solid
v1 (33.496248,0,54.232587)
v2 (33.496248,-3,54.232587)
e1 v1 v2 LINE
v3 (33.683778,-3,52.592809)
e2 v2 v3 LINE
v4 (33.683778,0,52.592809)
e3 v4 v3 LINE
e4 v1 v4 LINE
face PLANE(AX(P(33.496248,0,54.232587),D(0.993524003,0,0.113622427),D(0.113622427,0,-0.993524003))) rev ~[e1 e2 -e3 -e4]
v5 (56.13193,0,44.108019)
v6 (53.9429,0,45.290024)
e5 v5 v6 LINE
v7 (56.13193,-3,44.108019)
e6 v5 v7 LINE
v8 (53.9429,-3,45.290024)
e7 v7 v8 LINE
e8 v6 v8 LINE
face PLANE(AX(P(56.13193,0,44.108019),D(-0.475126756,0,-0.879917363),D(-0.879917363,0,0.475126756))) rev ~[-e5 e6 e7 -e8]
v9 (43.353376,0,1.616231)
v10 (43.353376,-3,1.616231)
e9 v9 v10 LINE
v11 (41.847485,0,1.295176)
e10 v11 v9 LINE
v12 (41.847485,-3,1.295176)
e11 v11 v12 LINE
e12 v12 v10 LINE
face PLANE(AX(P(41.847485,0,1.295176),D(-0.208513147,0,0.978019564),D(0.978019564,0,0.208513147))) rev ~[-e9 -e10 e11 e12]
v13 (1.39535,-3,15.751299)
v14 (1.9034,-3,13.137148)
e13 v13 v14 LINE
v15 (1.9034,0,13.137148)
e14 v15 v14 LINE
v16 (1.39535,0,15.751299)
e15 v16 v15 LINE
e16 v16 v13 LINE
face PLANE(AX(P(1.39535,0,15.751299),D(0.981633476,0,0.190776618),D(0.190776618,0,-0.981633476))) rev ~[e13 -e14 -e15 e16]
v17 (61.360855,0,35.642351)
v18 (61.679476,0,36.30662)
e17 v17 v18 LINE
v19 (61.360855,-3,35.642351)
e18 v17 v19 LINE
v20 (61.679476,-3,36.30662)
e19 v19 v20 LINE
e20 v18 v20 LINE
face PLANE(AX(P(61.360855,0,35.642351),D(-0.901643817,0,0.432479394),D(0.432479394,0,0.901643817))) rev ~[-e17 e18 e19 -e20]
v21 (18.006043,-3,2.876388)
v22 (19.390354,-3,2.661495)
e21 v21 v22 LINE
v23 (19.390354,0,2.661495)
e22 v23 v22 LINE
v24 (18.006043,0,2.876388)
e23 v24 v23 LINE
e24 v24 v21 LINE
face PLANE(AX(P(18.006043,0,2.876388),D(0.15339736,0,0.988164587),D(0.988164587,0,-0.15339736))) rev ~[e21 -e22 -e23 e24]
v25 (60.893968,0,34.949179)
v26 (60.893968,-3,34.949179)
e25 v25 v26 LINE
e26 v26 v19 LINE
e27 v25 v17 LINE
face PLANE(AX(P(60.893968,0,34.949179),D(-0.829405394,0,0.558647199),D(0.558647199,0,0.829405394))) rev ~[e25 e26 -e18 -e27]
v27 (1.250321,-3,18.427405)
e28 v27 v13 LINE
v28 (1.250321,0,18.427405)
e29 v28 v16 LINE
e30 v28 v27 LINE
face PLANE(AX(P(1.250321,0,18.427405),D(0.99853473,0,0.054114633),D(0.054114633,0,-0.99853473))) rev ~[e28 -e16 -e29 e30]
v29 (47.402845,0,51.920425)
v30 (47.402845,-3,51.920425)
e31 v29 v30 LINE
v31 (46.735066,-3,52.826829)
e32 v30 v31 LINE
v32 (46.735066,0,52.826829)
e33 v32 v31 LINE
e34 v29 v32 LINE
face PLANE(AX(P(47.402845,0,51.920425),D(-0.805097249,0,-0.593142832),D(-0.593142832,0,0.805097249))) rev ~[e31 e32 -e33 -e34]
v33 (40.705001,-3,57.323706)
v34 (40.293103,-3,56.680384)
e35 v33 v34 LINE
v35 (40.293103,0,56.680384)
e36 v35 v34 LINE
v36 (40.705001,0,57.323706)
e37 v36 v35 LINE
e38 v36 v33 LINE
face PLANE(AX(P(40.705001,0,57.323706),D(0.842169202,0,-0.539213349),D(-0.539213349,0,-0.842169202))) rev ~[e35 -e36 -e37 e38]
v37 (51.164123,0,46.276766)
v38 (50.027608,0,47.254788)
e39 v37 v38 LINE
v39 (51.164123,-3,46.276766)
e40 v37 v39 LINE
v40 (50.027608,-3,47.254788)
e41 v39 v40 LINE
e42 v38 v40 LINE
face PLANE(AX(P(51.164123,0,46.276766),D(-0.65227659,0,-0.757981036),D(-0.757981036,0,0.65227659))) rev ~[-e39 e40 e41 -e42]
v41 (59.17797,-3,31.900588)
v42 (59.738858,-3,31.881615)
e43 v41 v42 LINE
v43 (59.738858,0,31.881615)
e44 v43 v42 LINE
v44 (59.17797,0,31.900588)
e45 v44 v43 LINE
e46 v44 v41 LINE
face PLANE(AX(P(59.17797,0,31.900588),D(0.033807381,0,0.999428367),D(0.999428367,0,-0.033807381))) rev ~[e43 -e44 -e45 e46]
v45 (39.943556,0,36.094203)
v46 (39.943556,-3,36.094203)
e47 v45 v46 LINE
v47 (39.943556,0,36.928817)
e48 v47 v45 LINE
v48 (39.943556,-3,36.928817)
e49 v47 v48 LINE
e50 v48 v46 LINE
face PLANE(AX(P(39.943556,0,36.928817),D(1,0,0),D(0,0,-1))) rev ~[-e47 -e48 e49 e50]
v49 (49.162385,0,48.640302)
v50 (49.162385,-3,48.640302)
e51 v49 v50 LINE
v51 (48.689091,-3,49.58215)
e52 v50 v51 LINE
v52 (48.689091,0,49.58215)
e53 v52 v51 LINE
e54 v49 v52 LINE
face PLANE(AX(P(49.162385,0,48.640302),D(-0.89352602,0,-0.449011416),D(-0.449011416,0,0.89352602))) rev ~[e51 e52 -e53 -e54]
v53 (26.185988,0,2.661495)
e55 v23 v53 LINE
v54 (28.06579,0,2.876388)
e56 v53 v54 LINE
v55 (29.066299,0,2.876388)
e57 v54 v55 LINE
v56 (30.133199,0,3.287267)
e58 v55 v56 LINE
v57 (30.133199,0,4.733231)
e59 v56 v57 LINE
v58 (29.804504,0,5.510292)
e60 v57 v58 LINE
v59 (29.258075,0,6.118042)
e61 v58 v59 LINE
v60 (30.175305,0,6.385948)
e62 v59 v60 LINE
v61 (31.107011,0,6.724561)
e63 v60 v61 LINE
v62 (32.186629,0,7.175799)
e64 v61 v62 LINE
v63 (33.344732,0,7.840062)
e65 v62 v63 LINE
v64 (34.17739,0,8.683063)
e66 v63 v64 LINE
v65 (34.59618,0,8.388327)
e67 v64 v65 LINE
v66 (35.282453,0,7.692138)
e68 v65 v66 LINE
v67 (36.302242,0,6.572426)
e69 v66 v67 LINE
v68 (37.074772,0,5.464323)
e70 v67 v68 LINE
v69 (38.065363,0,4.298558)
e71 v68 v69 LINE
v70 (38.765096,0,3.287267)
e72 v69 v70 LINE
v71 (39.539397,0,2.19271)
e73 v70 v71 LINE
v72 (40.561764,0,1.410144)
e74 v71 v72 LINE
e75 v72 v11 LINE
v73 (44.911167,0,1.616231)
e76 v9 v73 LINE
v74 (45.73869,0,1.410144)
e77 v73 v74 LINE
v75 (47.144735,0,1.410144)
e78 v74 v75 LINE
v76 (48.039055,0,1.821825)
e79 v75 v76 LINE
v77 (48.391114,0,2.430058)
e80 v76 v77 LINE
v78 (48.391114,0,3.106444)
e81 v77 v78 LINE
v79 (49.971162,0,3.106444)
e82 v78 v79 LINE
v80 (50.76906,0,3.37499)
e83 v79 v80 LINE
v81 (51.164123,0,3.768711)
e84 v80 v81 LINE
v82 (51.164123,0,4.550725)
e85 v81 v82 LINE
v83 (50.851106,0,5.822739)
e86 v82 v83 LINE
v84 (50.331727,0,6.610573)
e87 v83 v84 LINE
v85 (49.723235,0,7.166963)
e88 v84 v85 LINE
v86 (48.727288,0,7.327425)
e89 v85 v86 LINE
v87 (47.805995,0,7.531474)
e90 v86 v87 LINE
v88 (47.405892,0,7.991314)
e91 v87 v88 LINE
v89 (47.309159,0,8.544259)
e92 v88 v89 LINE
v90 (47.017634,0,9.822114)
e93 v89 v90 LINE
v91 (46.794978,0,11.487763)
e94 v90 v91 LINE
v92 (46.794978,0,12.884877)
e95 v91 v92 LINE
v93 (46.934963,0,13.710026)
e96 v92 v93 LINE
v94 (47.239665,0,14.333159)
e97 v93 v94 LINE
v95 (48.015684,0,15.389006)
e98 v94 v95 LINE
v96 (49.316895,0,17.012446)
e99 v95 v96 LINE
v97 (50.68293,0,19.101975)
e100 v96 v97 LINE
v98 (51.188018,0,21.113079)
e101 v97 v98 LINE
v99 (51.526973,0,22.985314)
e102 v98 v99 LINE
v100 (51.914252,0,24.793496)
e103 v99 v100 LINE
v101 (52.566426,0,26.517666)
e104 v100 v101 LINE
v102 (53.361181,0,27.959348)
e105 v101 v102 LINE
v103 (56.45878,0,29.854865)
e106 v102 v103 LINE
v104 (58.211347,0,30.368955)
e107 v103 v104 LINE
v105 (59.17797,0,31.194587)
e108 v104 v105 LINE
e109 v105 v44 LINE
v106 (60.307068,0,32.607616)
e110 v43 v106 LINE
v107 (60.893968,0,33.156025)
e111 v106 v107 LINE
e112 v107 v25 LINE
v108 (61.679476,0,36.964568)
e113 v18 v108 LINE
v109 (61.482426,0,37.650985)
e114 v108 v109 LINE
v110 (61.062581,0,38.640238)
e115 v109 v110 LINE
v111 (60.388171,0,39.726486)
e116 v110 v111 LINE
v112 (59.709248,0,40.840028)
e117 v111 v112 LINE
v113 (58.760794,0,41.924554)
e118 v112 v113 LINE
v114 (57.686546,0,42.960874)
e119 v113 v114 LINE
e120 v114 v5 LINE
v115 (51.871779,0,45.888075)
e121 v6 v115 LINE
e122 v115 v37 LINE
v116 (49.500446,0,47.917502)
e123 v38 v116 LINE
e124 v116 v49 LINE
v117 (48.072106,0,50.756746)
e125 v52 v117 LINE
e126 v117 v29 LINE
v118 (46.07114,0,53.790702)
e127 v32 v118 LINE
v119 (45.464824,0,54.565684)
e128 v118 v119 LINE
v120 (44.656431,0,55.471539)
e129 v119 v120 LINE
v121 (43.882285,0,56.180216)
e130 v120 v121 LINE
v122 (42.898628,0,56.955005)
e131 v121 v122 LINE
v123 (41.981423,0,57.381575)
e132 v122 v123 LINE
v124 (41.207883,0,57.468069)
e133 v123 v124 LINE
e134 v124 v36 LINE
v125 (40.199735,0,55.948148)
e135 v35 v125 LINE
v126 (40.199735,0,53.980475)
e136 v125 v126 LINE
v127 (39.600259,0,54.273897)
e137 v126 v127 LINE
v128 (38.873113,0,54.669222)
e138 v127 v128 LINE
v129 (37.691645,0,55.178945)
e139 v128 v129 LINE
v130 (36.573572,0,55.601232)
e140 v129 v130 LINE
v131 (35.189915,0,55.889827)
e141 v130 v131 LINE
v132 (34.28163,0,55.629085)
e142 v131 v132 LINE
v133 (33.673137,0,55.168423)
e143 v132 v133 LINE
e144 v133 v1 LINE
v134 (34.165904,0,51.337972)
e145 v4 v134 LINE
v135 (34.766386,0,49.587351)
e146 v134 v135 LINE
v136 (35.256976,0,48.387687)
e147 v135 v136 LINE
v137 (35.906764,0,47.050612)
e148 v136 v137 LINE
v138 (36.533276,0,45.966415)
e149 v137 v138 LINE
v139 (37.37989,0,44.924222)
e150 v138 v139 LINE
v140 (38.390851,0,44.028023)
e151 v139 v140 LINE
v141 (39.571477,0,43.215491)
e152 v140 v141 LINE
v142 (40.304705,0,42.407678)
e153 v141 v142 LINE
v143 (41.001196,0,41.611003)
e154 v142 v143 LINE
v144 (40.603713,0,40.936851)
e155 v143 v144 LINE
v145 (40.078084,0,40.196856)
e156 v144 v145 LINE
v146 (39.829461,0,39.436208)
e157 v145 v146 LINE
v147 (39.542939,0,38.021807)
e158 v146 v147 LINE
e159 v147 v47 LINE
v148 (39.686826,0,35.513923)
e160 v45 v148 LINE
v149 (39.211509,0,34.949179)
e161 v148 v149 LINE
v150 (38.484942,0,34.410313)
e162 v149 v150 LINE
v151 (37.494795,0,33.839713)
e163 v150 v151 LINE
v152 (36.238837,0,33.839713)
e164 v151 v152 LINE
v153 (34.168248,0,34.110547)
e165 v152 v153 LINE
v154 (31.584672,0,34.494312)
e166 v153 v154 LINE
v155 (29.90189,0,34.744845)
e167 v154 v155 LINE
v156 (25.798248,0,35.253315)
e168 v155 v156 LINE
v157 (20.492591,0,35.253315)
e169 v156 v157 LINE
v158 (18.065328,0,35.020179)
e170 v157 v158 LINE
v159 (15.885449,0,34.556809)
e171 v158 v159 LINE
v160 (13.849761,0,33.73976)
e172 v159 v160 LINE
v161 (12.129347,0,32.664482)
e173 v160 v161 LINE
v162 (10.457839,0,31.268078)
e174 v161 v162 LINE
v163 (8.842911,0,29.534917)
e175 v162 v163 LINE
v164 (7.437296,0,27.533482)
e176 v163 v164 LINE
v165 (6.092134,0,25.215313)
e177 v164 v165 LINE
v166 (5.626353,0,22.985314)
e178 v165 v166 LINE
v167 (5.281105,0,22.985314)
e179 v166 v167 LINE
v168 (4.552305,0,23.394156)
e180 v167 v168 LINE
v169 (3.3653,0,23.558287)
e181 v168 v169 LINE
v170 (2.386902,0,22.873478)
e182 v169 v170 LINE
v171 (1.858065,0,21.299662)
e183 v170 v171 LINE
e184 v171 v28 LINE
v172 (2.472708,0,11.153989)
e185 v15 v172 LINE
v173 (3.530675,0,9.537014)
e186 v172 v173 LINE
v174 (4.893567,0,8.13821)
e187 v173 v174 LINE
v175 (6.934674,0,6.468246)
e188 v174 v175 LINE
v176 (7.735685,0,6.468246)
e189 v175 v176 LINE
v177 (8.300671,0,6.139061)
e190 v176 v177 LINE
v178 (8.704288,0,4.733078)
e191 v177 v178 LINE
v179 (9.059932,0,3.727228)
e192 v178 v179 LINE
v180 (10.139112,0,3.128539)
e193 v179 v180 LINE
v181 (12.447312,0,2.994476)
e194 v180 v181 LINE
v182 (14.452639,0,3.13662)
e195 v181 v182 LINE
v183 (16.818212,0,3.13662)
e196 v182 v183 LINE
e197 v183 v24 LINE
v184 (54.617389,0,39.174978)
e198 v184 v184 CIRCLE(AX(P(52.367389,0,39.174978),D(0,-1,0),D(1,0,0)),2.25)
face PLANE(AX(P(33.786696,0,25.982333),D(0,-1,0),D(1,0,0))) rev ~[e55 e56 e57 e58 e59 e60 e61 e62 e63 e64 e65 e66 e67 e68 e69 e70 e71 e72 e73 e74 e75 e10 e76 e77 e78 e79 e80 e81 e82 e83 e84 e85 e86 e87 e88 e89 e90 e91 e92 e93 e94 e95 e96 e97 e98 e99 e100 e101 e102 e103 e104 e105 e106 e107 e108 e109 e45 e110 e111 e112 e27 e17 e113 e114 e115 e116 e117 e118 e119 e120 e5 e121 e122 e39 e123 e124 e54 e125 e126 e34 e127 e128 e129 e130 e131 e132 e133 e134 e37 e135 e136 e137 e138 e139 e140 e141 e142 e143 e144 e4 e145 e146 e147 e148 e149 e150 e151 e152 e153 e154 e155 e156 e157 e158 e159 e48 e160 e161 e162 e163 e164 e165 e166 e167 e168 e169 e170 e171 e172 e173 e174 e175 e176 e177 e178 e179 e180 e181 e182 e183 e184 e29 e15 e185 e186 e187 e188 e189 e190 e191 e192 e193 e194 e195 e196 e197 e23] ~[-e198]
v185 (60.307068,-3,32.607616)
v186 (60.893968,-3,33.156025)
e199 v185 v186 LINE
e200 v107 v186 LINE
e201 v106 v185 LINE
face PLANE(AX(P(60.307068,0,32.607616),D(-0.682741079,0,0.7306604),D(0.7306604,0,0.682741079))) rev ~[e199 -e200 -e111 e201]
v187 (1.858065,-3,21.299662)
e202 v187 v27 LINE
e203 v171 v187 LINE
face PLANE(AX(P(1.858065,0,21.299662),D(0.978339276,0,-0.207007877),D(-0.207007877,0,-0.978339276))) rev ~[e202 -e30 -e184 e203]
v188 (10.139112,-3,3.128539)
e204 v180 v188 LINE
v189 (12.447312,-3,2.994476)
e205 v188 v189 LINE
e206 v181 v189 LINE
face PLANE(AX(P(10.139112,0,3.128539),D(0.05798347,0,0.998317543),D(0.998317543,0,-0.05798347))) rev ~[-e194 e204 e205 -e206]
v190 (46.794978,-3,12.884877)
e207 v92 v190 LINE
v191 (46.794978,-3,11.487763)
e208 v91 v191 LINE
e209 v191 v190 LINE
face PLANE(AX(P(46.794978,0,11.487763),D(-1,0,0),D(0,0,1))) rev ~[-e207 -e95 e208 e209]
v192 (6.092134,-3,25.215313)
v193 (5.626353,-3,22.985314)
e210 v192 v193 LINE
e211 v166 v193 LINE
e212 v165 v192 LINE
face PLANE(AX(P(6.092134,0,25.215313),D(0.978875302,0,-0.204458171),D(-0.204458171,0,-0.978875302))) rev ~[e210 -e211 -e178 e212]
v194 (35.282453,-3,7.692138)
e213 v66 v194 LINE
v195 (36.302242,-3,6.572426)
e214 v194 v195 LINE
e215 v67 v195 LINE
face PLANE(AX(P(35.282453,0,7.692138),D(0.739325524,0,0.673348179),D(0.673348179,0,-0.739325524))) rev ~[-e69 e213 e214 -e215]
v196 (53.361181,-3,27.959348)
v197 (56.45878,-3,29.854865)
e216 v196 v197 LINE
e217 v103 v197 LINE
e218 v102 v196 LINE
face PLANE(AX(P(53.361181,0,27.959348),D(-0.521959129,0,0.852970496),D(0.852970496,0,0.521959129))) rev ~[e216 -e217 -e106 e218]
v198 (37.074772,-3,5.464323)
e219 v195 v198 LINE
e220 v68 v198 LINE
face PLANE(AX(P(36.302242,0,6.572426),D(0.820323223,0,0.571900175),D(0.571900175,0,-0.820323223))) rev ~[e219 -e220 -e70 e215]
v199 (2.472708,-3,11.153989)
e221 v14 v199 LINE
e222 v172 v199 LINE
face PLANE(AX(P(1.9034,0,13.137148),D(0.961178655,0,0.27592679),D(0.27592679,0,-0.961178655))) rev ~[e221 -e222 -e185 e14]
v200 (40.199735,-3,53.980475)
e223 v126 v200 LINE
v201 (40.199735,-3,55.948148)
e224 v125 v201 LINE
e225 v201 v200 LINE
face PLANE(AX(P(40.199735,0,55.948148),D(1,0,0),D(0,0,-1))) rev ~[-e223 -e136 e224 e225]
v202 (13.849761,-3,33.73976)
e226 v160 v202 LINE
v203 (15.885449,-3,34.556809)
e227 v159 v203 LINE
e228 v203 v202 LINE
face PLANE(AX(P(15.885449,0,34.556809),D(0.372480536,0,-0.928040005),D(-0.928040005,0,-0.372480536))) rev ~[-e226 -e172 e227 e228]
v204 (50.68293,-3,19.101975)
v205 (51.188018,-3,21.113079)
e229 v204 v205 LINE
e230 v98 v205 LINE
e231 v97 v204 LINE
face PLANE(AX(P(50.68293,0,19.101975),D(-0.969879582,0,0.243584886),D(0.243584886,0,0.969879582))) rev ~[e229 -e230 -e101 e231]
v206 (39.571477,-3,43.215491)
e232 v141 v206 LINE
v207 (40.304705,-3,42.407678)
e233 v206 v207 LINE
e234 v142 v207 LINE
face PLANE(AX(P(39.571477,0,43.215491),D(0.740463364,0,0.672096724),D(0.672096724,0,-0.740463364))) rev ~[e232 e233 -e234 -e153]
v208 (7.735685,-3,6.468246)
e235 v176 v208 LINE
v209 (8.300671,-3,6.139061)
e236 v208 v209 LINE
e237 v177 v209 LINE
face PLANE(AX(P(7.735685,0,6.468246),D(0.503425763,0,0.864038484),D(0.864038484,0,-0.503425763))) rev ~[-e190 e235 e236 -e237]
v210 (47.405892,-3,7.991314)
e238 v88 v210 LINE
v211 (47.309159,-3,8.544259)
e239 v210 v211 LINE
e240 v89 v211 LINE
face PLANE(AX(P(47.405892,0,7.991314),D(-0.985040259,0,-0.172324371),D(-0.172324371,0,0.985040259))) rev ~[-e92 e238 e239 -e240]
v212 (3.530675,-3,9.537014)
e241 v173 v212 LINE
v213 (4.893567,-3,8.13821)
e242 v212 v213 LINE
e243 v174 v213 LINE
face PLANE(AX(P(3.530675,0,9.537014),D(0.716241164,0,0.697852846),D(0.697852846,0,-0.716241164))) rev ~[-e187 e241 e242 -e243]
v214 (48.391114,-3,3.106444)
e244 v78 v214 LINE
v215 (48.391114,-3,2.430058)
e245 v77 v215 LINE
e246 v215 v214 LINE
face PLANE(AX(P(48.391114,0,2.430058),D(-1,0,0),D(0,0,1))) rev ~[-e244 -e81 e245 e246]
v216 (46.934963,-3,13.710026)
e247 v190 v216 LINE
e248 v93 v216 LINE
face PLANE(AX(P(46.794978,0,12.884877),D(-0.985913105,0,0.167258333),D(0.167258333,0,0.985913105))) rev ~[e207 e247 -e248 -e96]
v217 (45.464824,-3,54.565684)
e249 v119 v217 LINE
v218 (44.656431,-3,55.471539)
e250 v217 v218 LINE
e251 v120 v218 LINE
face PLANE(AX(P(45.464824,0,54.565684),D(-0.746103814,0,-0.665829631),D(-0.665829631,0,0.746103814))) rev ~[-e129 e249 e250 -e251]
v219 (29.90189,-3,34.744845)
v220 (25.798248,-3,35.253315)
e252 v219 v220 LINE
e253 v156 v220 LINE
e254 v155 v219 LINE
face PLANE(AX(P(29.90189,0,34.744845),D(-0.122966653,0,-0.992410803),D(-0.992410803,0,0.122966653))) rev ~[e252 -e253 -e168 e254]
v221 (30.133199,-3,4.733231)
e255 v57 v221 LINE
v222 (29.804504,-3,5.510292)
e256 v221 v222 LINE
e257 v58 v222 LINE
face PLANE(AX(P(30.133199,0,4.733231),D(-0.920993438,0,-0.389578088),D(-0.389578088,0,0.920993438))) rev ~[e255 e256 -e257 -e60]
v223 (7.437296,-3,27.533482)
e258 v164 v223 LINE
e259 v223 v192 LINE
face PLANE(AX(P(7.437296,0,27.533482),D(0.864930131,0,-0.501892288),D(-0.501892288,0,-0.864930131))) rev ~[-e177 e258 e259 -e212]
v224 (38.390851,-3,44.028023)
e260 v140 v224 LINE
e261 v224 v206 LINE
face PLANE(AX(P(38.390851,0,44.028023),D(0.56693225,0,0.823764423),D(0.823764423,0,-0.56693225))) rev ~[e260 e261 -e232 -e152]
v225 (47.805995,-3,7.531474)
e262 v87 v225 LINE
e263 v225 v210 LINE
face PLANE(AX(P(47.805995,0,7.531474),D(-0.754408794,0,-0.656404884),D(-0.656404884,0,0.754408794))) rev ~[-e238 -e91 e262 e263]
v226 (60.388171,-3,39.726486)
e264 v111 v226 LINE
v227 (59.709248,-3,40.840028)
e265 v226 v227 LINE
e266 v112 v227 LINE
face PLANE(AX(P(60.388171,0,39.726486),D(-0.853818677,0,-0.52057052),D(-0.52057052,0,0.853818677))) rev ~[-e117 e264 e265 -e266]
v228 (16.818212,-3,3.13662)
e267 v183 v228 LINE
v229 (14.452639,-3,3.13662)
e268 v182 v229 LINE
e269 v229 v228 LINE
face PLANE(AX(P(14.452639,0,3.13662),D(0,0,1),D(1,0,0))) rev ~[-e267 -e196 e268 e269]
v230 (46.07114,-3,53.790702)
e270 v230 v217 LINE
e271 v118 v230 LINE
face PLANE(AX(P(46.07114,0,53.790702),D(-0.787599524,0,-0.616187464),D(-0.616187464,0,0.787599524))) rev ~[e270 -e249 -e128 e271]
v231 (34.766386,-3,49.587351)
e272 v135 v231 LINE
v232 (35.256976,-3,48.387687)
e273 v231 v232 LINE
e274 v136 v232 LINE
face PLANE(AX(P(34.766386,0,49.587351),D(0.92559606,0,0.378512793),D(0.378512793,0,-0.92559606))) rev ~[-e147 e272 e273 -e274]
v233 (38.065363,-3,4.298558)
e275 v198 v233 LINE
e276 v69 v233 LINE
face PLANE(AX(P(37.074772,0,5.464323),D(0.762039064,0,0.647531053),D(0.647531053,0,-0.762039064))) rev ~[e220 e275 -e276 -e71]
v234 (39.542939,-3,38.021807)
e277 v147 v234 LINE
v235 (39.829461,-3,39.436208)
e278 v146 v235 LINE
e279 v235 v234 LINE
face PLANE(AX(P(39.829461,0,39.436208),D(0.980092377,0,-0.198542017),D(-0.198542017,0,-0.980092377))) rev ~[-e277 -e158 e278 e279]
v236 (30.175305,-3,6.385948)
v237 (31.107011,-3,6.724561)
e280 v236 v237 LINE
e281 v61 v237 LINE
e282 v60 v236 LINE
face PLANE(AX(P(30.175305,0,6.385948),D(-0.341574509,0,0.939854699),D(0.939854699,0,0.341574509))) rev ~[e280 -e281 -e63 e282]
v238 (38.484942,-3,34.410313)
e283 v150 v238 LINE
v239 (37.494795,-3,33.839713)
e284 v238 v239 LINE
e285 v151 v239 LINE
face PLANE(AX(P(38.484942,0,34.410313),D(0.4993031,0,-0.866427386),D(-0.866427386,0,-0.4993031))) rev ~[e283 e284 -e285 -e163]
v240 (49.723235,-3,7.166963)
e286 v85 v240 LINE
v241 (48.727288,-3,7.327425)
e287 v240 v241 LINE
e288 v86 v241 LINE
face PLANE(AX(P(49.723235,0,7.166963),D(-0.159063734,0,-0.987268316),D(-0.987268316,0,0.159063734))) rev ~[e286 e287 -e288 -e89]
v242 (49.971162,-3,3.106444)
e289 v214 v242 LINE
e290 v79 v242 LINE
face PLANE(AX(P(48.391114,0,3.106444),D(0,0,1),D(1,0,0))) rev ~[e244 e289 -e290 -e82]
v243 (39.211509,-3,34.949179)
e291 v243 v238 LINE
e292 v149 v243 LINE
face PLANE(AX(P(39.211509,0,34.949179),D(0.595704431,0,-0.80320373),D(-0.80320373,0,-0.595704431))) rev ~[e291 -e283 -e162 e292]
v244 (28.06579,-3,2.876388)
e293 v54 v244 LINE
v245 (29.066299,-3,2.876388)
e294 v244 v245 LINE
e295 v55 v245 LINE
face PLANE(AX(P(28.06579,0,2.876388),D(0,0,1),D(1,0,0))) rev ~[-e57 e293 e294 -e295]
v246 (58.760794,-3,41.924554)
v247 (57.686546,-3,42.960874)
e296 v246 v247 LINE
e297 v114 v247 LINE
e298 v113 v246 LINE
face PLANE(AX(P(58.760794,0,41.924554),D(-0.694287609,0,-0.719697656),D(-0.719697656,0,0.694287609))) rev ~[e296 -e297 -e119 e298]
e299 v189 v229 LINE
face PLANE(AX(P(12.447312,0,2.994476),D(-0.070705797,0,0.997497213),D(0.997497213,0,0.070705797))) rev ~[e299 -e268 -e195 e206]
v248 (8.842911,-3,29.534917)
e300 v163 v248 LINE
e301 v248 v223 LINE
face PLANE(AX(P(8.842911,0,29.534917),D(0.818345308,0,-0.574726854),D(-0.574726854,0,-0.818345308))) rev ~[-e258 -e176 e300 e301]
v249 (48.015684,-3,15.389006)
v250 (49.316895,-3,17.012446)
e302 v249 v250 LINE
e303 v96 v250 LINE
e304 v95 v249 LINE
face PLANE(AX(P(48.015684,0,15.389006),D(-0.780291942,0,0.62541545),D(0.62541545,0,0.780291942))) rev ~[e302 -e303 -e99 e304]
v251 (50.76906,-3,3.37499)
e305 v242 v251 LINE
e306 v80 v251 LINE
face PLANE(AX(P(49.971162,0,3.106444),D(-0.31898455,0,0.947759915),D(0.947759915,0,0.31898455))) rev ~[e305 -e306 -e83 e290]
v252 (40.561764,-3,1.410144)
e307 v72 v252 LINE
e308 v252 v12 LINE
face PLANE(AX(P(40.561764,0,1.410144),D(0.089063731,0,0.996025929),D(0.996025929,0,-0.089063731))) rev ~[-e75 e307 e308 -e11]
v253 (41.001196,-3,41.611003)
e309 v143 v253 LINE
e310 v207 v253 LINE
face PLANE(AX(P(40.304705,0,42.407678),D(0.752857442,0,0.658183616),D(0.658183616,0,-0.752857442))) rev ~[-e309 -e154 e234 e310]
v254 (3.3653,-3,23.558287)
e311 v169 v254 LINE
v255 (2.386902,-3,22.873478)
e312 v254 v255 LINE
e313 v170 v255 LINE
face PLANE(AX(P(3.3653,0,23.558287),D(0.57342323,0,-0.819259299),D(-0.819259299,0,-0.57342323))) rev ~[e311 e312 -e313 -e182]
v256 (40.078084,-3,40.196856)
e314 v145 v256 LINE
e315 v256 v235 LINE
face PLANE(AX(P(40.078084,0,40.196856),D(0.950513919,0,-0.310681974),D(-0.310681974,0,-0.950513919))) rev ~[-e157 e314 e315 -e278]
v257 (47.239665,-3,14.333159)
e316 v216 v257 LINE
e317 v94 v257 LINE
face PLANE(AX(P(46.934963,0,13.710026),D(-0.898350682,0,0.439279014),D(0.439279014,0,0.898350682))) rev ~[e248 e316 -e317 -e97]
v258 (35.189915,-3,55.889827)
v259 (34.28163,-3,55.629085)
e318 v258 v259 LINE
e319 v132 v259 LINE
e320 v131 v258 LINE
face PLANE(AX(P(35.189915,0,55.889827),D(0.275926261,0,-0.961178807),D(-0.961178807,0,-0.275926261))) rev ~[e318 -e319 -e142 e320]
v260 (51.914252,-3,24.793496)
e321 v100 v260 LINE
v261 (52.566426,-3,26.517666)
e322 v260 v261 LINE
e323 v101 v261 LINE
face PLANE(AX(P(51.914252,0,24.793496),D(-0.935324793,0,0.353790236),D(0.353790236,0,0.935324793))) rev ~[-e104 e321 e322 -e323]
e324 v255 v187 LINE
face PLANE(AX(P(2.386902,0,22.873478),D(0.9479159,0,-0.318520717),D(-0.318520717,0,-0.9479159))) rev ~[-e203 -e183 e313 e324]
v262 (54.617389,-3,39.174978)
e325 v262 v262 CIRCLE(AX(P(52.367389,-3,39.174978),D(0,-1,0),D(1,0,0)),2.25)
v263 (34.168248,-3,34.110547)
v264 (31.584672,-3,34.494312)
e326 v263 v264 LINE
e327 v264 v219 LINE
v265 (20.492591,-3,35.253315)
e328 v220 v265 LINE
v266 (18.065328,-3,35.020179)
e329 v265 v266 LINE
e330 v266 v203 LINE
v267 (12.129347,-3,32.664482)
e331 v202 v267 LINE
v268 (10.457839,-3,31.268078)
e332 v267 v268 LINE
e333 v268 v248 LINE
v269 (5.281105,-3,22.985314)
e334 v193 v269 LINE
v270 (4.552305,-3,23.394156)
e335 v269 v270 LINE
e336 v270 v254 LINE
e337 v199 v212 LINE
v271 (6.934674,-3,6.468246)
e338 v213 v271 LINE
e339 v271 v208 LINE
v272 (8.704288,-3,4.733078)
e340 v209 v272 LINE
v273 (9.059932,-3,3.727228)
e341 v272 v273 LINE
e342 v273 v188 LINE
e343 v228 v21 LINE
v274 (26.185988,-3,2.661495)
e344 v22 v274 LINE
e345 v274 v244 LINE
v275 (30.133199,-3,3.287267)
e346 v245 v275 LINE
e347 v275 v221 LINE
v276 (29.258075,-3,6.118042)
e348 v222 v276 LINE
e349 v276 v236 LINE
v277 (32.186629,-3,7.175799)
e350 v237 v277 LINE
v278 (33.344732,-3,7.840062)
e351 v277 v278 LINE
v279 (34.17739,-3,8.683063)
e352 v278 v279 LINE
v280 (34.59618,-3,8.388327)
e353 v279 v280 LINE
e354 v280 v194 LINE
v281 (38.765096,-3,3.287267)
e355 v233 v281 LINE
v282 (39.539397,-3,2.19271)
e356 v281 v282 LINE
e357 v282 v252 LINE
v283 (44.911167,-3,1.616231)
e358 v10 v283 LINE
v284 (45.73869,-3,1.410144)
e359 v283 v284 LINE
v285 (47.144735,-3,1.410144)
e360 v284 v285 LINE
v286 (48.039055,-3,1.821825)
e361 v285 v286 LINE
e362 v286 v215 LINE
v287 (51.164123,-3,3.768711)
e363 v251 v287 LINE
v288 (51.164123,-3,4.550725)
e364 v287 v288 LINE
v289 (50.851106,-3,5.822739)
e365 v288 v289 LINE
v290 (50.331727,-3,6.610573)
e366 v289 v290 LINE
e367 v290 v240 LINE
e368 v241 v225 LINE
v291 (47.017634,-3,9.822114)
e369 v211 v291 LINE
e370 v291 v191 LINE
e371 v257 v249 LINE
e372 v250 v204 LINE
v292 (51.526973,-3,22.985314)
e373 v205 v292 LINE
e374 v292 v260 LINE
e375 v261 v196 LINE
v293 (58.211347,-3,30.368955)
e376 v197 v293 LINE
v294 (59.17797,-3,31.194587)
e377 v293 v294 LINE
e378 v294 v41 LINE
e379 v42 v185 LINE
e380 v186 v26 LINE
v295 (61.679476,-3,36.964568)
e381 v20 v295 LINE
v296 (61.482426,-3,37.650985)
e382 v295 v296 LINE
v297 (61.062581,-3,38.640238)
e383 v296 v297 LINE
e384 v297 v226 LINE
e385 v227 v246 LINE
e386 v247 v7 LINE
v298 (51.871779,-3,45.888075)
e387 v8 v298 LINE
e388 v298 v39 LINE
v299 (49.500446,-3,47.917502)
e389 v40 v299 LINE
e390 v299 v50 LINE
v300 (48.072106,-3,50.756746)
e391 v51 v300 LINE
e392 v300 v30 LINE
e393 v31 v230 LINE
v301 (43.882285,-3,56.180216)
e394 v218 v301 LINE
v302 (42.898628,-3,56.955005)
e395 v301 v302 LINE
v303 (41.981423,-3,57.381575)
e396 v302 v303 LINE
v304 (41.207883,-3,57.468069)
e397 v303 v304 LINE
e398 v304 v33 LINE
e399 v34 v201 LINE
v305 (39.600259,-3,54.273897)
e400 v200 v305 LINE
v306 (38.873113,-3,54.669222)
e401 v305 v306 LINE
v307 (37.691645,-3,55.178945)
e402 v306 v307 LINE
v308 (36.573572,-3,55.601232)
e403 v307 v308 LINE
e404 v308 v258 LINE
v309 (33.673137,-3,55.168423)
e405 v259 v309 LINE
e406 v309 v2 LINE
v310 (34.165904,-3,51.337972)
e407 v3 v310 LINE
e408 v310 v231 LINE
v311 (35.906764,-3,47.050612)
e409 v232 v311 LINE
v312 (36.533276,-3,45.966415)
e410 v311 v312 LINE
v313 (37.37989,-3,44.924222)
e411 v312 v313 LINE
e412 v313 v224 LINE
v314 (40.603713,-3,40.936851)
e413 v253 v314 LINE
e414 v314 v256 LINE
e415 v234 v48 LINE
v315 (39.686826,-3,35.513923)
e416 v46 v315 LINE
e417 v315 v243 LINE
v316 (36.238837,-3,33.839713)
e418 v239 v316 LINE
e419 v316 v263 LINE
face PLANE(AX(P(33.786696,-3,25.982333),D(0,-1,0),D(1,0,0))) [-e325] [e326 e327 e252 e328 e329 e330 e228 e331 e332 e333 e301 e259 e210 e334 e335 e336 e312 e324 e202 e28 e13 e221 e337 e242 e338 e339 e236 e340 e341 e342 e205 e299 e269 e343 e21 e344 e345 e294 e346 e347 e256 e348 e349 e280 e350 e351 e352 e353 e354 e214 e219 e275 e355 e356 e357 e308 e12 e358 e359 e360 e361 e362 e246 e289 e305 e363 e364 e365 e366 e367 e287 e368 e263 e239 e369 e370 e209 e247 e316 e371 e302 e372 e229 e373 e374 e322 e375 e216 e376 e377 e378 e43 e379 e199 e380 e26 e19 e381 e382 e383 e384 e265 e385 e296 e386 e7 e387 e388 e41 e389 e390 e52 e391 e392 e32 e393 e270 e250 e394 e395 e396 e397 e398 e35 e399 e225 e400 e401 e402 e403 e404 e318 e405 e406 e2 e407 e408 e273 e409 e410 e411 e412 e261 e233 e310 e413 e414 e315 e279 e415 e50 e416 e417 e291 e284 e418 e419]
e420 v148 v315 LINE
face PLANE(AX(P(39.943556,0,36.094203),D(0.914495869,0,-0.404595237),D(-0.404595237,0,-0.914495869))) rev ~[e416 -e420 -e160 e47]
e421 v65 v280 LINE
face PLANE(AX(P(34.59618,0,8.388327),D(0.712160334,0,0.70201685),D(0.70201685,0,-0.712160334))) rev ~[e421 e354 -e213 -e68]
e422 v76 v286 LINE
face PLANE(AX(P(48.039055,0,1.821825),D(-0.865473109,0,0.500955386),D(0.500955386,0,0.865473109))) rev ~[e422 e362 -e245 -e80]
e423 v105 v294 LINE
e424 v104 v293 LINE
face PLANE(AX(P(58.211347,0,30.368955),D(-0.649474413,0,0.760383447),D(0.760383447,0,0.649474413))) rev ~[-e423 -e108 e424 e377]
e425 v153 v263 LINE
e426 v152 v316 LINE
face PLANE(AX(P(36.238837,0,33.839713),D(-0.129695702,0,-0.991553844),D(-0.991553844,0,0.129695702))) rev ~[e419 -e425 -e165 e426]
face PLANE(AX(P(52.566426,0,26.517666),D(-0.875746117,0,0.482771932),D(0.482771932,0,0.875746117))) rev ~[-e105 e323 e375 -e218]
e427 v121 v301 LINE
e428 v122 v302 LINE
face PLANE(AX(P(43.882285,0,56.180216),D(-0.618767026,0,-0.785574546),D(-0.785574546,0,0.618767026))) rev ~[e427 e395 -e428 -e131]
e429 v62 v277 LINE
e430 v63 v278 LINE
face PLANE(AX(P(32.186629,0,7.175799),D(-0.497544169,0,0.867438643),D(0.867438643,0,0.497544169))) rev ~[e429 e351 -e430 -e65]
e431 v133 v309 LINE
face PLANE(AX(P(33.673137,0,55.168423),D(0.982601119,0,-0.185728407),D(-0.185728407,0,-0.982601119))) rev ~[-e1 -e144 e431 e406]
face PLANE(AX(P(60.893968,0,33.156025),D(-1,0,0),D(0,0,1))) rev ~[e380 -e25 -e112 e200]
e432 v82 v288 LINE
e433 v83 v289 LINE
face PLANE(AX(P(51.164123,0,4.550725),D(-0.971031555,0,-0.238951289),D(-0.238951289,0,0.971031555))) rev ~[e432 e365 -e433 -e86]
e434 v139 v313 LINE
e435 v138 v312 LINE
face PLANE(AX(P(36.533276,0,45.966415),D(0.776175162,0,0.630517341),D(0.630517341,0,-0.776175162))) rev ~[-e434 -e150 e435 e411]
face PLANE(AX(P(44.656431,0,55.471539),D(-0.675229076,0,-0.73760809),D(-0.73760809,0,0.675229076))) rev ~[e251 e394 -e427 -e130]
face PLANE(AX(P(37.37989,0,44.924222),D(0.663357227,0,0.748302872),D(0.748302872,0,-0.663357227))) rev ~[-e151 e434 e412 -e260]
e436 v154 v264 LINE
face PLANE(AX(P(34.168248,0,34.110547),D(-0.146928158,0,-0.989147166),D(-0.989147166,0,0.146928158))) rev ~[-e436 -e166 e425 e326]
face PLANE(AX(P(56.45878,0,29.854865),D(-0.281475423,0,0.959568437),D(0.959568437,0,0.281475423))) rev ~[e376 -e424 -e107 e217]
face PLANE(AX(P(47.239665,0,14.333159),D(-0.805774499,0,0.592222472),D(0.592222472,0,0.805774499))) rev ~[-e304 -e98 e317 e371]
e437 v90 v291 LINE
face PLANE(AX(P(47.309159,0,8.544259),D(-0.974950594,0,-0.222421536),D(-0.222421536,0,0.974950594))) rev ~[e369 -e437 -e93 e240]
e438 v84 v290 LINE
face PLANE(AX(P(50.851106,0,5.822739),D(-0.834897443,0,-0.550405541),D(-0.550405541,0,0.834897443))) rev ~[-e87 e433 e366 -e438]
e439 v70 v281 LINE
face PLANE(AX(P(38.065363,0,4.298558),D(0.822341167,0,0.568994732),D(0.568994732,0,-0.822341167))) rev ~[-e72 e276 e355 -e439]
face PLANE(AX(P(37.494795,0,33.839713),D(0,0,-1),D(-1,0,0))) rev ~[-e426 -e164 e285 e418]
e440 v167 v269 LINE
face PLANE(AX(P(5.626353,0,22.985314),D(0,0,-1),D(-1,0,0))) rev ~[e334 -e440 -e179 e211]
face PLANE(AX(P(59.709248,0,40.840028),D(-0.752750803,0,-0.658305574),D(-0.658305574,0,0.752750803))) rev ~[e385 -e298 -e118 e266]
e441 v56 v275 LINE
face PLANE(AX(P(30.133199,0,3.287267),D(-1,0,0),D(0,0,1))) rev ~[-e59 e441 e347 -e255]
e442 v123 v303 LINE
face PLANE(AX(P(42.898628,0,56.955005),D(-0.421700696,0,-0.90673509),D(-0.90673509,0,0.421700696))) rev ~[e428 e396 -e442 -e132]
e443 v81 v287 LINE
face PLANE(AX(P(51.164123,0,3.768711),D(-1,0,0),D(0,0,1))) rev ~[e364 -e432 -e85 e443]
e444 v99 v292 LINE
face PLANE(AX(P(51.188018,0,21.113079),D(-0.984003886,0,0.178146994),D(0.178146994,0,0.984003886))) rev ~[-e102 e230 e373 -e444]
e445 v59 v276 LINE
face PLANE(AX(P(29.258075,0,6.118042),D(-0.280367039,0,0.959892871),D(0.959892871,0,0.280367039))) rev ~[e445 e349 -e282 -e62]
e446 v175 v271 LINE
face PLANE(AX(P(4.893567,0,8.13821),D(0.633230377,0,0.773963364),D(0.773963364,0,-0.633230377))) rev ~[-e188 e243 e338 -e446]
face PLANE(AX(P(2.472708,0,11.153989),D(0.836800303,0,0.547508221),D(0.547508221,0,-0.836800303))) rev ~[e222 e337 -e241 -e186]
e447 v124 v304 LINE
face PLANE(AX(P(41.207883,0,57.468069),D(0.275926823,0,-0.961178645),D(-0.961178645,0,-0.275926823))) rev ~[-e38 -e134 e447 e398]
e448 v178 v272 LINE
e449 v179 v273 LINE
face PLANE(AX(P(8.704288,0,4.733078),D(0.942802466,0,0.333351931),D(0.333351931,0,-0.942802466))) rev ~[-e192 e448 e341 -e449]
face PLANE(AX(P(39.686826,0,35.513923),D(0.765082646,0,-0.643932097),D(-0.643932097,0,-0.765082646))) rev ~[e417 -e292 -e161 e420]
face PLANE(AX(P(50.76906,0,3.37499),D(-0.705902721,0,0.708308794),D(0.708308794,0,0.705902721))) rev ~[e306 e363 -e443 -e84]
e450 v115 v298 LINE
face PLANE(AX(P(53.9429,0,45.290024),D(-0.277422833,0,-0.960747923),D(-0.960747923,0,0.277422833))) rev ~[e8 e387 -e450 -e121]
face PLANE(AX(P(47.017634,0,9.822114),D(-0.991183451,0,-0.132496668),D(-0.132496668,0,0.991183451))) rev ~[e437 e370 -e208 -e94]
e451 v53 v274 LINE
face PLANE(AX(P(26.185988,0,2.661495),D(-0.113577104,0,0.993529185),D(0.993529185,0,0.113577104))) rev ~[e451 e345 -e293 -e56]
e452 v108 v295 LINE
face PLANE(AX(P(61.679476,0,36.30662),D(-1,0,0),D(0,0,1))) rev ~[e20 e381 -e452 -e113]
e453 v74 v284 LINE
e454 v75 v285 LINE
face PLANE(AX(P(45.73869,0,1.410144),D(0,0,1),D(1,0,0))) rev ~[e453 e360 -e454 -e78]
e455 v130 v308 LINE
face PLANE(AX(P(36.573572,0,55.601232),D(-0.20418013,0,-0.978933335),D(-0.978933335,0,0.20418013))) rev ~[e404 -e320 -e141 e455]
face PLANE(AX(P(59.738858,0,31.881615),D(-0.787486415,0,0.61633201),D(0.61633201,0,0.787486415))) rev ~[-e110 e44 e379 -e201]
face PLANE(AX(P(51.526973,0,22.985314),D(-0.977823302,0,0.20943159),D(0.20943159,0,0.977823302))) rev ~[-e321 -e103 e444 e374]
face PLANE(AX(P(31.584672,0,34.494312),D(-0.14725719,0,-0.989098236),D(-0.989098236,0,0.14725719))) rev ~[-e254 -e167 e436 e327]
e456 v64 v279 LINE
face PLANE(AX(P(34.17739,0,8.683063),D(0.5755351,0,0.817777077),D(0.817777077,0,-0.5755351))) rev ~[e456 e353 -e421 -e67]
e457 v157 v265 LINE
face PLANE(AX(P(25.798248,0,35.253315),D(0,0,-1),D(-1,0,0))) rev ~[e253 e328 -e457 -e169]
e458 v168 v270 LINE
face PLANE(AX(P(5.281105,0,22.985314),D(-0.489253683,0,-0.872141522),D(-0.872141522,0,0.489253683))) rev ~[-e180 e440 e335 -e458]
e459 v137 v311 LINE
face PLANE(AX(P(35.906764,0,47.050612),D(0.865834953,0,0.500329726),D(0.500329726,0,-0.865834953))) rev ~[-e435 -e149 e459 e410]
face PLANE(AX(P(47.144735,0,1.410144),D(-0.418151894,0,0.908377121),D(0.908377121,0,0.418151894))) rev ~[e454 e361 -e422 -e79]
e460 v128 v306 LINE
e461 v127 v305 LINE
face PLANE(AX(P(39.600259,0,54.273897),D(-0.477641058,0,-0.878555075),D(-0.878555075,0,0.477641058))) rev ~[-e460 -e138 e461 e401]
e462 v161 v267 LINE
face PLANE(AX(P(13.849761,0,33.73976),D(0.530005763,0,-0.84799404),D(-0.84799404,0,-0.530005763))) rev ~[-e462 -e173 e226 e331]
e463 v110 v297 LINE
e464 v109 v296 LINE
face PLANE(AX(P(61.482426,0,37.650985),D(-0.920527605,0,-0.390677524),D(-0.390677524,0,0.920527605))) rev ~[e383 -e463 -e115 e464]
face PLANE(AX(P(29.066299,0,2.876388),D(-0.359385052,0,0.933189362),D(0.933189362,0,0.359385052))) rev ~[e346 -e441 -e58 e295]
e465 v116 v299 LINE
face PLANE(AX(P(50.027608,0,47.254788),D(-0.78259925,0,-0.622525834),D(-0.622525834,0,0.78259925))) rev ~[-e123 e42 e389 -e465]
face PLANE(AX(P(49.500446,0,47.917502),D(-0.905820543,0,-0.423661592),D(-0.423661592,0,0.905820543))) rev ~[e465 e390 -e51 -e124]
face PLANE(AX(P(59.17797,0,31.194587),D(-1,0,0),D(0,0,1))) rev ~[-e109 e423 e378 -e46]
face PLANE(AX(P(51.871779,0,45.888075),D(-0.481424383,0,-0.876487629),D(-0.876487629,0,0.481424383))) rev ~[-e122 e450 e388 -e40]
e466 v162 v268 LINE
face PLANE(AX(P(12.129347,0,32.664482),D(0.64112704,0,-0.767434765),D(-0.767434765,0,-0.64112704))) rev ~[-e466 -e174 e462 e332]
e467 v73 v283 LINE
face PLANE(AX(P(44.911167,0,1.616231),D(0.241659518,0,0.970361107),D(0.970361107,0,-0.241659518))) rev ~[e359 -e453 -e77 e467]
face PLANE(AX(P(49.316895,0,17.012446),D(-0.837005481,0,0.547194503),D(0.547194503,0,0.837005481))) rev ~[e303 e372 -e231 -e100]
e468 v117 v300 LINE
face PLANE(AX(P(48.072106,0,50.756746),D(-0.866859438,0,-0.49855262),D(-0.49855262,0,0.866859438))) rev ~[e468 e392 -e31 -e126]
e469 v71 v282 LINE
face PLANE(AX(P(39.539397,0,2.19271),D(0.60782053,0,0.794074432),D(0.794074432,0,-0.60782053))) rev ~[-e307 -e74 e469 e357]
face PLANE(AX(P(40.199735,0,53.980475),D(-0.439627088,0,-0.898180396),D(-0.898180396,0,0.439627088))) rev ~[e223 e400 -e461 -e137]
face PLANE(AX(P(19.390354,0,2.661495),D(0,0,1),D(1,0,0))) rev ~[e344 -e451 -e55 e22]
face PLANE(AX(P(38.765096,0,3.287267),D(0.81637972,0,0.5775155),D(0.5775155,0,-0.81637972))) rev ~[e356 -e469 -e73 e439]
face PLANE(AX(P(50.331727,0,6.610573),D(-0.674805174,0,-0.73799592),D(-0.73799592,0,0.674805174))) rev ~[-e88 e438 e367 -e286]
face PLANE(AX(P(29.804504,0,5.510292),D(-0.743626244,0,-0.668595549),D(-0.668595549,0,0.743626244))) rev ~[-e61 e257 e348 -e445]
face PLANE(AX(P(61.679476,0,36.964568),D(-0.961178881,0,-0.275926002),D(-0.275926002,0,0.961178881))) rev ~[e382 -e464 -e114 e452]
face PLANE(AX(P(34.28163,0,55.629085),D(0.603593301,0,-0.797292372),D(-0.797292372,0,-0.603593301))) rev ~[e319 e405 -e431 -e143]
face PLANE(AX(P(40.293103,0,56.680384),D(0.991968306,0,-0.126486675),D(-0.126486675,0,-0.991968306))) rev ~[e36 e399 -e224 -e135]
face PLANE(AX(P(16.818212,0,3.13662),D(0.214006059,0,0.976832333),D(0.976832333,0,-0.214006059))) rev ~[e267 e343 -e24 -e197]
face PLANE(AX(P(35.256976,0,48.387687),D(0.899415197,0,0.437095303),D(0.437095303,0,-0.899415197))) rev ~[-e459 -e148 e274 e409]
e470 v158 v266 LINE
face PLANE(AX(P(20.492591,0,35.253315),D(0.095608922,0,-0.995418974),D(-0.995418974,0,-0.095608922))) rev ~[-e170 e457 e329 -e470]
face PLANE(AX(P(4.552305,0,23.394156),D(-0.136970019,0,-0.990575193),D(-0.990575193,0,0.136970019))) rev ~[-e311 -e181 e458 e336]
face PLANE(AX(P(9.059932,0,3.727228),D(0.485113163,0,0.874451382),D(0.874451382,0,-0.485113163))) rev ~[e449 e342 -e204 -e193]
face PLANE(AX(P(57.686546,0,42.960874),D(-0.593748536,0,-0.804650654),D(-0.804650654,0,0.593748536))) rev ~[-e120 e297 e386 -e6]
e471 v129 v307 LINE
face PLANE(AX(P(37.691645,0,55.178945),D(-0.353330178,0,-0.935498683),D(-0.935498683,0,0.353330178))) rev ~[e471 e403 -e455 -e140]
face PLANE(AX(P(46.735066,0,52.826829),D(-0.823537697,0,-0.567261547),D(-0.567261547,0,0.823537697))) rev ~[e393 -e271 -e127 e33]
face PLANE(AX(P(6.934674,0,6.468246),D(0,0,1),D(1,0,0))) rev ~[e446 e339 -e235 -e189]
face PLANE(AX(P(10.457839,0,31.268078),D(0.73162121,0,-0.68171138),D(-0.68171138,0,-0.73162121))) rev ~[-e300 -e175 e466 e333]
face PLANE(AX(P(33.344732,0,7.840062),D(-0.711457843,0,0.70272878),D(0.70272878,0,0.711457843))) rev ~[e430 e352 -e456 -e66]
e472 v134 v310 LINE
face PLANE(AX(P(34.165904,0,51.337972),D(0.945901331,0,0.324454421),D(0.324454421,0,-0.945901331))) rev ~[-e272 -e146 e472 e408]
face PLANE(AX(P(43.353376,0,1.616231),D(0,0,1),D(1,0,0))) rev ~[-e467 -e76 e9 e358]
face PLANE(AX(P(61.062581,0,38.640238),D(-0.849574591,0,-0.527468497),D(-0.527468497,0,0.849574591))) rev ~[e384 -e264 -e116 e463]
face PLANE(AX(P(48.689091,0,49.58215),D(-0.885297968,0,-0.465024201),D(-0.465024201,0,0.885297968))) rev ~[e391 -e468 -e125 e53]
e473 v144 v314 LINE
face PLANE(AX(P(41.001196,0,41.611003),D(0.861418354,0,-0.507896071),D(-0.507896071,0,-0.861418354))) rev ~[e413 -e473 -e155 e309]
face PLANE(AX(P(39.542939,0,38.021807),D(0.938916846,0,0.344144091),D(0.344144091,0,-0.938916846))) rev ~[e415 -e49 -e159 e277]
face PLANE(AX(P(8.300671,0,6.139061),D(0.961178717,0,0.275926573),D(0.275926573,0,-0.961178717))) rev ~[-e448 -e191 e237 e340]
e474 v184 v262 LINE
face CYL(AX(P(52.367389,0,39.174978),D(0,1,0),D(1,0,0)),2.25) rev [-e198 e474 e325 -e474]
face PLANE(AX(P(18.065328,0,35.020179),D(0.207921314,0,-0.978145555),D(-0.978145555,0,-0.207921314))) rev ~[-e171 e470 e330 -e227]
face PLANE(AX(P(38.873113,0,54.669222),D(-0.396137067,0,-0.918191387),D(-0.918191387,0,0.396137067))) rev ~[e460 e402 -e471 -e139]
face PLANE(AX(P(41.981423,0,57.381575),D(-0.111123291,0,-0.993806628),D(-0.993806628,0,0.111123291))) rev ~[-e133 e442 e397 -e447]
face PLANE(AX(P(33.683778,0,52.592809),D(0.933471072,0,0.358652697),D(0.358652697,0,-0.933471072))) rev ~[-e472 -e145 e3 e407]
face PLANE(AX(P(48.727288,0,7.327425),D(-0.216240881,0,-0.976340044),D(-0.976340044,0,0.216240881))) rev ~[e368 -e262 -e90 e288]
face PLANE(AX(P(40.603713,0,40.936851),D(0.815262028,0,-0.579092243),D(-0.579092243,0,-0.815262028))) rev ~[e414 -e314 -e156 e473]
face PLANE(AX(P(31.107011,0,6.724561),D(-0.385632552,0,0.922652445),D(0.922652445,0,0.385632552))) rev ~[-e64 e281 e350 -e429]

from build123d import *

# Parameters (mm, degrees)
F0_R     = 2.25
F1_DEPTH = 3


with BuildPart() as f1:
    # F0 (on Front) → F1 (new body)
    with BuildSketch(Plane.XZ):
        Polygon((59.17797, 31.194587), (59.17797, 31.900588), (59.738858, 31.881615), (60.307068, 32.607616), (60.893968, 33.156025), (60.893968, 33.944442), (60.893968, 34.949179), (61.360855, 35.642351), (61.679476, 36.30662), (61.679476, 36.964568), (61.482426, 37.650985), (61.062581, 38.640238), (60.388171, 39.726486), (59.709248, 40.840028), (58.760794, 41.924554), (57.686546, 42.960874), (56.13193, 44.108019), (53.9429, 45.290024), (51.871779, 45.888075), (51.164123, 46.276766), (50.027608, 47.254788), (49.500446, 47.917502), (49.162385, 48.640302), (48.689091, 49.58215), (48.072106, 50.756746), (47.402845, 51.920425), (46.735066, 52.826829), (46.07114, 53.790702), (45.464824, 54.565684), (44.656431, 55.471539), (43.882285, 56.180216), (42.898628, 56.955005), (41.981423, 57.381575), (41.207883, 57.468069), (40.705001, 57.323706), (40.293103, 56.680384), (40.199735, 55.948148), (40.199735, 53.980475), (39.600259, 54.273897), (38.873113, 54.669222), (37.691645, 55.178945), (36.573572, 55.601232), (35.189915, 55.889827), (34.28163, 55.629085), (33.673137, 55.168423), (33.496248, 54.232587), (33.683778, 52.592809), (34.165904, 51.337972), (34.766386, 49.587351), (35.256976, 48.387687), (35.906764, 47.050612), (36.533276, 45.966415), (37.37989, 44.924222), (38.390851, 44.028023), (39.571477, 43.215491), (40.304705, 42.407678), (41.001196, 41.611003), (40.603713, 40.936851), (40.078084, 40.196856), (39.829461, 39.436208), (39.542939, 38.021807), (39.943556, 36.928817), (39.943556, 36.094203), (39.686826, 35.513923), (39.211509, 34.949179), (38.484942, 34.410313), (37.494795, 33.839713), (36.238837, 33.839713), (34.168248, 34.110547), (31.584672, 34.494312), (29.90189, 34.744845), (25.798248, 35.253315), (22.933811, 35.253315), (20.492591, 35.253315), (18.065328, 35.020179), (15.885449, 34.556809), (13.849761, 33.73976), (12.129347, 32.664482), (10.457839, 31.268078), (8.842911, 29.534917), (7.437296, 27.533482), (6.092134, 25.215313), (5.626353, 22.985314), (5.281105, 22.985314), (4.552305, 23.394156), (3.3653, 23.558287), (2.386902, 22.873478), (1.858065, 21.299662), (1.250321, 18.427405), (1.39535, 15.751299), (1.9034, 13.137148), (2.472708, 11.153989), (3.530675, 9.537014), (4.893567, 8.13821), (6.934674, 6.468246), (7.735685, 6.468246), (8.300671, 6.139061), (8.704288, 4.733078), (9.059932, 3.727228), (10.139112, 3.128539), (12.447312, 2.994476), (14.452639, 3.13662), (16.818212, 3.13662), (18.006043, 2.876388), (19.390354, 2.661495), (21.883129, 2.661495), (23.743564, 2.661495), (26.185988, 2.661495), (28.06579, 2.876388), (29.066299, 2.876388), (30.133199, 3.287267), (30.133199, 3.511565), (30.133199, 4.072266), (30.133199, 4.733231), (29.804504, 5.510292), (29.258075, 6.118042), (30.175305, 6.385948), (31.107011, 6.724561), (32.186629, 7.175799), (33.344732, 7.840062), (34.17739, 8.683063), (34.59618, 8.388327), (35.282453, 7.692138), (36.302242, 6.572426), (37.074772, 5.464323), (38.065363, 4.298558), (38.765096, 3.287267), (39.539397, 2.19271), (40.561764, 1.410144), (41.847485, 1.295176), (43.353376, 1.616231), (44.911167, 1.616231), (45.73869, 1.410144), (47.144735, 1.410144), (48.039055, 1.821825), (48.391114, 2.430058), (48.391114, 3.106444), (49.971162, 3.106444), (50.76906, 3.37499), (51.164123, 3.768711), (51.164123, 4.550725), (50.851106, 5.822739), (50.331727, 6.610573), (49.723235, 7.166963), (48.727288, 7.327425), (47.805995, 7.531474), (47.405892, 7.991314), (47.309159, 8.544259), (47.017634, 9.822114), (46.794978, 11.487763), (46.794978, 12.884877), (46.934963, 13.710026), (47.239665, 14.333159), (48.015684, 15.389006), (49.316895, 17.012446), (50.68293, 19.101975), (51.188018, 21.113079), (51.526973, 22.985314), (51.914252, 24.793496), (52.566426, 26.517666), (53.361181, 27.959348), (56.45878, 29.854865), (58.211347, 30.368955), align=None)
        with Locations((52.367389, 39.174978)):
            Circle(F0_R, mode=Mode.SUBTRACT)
    extrude(amount=F1_DEPTH)


solid = f1.part
